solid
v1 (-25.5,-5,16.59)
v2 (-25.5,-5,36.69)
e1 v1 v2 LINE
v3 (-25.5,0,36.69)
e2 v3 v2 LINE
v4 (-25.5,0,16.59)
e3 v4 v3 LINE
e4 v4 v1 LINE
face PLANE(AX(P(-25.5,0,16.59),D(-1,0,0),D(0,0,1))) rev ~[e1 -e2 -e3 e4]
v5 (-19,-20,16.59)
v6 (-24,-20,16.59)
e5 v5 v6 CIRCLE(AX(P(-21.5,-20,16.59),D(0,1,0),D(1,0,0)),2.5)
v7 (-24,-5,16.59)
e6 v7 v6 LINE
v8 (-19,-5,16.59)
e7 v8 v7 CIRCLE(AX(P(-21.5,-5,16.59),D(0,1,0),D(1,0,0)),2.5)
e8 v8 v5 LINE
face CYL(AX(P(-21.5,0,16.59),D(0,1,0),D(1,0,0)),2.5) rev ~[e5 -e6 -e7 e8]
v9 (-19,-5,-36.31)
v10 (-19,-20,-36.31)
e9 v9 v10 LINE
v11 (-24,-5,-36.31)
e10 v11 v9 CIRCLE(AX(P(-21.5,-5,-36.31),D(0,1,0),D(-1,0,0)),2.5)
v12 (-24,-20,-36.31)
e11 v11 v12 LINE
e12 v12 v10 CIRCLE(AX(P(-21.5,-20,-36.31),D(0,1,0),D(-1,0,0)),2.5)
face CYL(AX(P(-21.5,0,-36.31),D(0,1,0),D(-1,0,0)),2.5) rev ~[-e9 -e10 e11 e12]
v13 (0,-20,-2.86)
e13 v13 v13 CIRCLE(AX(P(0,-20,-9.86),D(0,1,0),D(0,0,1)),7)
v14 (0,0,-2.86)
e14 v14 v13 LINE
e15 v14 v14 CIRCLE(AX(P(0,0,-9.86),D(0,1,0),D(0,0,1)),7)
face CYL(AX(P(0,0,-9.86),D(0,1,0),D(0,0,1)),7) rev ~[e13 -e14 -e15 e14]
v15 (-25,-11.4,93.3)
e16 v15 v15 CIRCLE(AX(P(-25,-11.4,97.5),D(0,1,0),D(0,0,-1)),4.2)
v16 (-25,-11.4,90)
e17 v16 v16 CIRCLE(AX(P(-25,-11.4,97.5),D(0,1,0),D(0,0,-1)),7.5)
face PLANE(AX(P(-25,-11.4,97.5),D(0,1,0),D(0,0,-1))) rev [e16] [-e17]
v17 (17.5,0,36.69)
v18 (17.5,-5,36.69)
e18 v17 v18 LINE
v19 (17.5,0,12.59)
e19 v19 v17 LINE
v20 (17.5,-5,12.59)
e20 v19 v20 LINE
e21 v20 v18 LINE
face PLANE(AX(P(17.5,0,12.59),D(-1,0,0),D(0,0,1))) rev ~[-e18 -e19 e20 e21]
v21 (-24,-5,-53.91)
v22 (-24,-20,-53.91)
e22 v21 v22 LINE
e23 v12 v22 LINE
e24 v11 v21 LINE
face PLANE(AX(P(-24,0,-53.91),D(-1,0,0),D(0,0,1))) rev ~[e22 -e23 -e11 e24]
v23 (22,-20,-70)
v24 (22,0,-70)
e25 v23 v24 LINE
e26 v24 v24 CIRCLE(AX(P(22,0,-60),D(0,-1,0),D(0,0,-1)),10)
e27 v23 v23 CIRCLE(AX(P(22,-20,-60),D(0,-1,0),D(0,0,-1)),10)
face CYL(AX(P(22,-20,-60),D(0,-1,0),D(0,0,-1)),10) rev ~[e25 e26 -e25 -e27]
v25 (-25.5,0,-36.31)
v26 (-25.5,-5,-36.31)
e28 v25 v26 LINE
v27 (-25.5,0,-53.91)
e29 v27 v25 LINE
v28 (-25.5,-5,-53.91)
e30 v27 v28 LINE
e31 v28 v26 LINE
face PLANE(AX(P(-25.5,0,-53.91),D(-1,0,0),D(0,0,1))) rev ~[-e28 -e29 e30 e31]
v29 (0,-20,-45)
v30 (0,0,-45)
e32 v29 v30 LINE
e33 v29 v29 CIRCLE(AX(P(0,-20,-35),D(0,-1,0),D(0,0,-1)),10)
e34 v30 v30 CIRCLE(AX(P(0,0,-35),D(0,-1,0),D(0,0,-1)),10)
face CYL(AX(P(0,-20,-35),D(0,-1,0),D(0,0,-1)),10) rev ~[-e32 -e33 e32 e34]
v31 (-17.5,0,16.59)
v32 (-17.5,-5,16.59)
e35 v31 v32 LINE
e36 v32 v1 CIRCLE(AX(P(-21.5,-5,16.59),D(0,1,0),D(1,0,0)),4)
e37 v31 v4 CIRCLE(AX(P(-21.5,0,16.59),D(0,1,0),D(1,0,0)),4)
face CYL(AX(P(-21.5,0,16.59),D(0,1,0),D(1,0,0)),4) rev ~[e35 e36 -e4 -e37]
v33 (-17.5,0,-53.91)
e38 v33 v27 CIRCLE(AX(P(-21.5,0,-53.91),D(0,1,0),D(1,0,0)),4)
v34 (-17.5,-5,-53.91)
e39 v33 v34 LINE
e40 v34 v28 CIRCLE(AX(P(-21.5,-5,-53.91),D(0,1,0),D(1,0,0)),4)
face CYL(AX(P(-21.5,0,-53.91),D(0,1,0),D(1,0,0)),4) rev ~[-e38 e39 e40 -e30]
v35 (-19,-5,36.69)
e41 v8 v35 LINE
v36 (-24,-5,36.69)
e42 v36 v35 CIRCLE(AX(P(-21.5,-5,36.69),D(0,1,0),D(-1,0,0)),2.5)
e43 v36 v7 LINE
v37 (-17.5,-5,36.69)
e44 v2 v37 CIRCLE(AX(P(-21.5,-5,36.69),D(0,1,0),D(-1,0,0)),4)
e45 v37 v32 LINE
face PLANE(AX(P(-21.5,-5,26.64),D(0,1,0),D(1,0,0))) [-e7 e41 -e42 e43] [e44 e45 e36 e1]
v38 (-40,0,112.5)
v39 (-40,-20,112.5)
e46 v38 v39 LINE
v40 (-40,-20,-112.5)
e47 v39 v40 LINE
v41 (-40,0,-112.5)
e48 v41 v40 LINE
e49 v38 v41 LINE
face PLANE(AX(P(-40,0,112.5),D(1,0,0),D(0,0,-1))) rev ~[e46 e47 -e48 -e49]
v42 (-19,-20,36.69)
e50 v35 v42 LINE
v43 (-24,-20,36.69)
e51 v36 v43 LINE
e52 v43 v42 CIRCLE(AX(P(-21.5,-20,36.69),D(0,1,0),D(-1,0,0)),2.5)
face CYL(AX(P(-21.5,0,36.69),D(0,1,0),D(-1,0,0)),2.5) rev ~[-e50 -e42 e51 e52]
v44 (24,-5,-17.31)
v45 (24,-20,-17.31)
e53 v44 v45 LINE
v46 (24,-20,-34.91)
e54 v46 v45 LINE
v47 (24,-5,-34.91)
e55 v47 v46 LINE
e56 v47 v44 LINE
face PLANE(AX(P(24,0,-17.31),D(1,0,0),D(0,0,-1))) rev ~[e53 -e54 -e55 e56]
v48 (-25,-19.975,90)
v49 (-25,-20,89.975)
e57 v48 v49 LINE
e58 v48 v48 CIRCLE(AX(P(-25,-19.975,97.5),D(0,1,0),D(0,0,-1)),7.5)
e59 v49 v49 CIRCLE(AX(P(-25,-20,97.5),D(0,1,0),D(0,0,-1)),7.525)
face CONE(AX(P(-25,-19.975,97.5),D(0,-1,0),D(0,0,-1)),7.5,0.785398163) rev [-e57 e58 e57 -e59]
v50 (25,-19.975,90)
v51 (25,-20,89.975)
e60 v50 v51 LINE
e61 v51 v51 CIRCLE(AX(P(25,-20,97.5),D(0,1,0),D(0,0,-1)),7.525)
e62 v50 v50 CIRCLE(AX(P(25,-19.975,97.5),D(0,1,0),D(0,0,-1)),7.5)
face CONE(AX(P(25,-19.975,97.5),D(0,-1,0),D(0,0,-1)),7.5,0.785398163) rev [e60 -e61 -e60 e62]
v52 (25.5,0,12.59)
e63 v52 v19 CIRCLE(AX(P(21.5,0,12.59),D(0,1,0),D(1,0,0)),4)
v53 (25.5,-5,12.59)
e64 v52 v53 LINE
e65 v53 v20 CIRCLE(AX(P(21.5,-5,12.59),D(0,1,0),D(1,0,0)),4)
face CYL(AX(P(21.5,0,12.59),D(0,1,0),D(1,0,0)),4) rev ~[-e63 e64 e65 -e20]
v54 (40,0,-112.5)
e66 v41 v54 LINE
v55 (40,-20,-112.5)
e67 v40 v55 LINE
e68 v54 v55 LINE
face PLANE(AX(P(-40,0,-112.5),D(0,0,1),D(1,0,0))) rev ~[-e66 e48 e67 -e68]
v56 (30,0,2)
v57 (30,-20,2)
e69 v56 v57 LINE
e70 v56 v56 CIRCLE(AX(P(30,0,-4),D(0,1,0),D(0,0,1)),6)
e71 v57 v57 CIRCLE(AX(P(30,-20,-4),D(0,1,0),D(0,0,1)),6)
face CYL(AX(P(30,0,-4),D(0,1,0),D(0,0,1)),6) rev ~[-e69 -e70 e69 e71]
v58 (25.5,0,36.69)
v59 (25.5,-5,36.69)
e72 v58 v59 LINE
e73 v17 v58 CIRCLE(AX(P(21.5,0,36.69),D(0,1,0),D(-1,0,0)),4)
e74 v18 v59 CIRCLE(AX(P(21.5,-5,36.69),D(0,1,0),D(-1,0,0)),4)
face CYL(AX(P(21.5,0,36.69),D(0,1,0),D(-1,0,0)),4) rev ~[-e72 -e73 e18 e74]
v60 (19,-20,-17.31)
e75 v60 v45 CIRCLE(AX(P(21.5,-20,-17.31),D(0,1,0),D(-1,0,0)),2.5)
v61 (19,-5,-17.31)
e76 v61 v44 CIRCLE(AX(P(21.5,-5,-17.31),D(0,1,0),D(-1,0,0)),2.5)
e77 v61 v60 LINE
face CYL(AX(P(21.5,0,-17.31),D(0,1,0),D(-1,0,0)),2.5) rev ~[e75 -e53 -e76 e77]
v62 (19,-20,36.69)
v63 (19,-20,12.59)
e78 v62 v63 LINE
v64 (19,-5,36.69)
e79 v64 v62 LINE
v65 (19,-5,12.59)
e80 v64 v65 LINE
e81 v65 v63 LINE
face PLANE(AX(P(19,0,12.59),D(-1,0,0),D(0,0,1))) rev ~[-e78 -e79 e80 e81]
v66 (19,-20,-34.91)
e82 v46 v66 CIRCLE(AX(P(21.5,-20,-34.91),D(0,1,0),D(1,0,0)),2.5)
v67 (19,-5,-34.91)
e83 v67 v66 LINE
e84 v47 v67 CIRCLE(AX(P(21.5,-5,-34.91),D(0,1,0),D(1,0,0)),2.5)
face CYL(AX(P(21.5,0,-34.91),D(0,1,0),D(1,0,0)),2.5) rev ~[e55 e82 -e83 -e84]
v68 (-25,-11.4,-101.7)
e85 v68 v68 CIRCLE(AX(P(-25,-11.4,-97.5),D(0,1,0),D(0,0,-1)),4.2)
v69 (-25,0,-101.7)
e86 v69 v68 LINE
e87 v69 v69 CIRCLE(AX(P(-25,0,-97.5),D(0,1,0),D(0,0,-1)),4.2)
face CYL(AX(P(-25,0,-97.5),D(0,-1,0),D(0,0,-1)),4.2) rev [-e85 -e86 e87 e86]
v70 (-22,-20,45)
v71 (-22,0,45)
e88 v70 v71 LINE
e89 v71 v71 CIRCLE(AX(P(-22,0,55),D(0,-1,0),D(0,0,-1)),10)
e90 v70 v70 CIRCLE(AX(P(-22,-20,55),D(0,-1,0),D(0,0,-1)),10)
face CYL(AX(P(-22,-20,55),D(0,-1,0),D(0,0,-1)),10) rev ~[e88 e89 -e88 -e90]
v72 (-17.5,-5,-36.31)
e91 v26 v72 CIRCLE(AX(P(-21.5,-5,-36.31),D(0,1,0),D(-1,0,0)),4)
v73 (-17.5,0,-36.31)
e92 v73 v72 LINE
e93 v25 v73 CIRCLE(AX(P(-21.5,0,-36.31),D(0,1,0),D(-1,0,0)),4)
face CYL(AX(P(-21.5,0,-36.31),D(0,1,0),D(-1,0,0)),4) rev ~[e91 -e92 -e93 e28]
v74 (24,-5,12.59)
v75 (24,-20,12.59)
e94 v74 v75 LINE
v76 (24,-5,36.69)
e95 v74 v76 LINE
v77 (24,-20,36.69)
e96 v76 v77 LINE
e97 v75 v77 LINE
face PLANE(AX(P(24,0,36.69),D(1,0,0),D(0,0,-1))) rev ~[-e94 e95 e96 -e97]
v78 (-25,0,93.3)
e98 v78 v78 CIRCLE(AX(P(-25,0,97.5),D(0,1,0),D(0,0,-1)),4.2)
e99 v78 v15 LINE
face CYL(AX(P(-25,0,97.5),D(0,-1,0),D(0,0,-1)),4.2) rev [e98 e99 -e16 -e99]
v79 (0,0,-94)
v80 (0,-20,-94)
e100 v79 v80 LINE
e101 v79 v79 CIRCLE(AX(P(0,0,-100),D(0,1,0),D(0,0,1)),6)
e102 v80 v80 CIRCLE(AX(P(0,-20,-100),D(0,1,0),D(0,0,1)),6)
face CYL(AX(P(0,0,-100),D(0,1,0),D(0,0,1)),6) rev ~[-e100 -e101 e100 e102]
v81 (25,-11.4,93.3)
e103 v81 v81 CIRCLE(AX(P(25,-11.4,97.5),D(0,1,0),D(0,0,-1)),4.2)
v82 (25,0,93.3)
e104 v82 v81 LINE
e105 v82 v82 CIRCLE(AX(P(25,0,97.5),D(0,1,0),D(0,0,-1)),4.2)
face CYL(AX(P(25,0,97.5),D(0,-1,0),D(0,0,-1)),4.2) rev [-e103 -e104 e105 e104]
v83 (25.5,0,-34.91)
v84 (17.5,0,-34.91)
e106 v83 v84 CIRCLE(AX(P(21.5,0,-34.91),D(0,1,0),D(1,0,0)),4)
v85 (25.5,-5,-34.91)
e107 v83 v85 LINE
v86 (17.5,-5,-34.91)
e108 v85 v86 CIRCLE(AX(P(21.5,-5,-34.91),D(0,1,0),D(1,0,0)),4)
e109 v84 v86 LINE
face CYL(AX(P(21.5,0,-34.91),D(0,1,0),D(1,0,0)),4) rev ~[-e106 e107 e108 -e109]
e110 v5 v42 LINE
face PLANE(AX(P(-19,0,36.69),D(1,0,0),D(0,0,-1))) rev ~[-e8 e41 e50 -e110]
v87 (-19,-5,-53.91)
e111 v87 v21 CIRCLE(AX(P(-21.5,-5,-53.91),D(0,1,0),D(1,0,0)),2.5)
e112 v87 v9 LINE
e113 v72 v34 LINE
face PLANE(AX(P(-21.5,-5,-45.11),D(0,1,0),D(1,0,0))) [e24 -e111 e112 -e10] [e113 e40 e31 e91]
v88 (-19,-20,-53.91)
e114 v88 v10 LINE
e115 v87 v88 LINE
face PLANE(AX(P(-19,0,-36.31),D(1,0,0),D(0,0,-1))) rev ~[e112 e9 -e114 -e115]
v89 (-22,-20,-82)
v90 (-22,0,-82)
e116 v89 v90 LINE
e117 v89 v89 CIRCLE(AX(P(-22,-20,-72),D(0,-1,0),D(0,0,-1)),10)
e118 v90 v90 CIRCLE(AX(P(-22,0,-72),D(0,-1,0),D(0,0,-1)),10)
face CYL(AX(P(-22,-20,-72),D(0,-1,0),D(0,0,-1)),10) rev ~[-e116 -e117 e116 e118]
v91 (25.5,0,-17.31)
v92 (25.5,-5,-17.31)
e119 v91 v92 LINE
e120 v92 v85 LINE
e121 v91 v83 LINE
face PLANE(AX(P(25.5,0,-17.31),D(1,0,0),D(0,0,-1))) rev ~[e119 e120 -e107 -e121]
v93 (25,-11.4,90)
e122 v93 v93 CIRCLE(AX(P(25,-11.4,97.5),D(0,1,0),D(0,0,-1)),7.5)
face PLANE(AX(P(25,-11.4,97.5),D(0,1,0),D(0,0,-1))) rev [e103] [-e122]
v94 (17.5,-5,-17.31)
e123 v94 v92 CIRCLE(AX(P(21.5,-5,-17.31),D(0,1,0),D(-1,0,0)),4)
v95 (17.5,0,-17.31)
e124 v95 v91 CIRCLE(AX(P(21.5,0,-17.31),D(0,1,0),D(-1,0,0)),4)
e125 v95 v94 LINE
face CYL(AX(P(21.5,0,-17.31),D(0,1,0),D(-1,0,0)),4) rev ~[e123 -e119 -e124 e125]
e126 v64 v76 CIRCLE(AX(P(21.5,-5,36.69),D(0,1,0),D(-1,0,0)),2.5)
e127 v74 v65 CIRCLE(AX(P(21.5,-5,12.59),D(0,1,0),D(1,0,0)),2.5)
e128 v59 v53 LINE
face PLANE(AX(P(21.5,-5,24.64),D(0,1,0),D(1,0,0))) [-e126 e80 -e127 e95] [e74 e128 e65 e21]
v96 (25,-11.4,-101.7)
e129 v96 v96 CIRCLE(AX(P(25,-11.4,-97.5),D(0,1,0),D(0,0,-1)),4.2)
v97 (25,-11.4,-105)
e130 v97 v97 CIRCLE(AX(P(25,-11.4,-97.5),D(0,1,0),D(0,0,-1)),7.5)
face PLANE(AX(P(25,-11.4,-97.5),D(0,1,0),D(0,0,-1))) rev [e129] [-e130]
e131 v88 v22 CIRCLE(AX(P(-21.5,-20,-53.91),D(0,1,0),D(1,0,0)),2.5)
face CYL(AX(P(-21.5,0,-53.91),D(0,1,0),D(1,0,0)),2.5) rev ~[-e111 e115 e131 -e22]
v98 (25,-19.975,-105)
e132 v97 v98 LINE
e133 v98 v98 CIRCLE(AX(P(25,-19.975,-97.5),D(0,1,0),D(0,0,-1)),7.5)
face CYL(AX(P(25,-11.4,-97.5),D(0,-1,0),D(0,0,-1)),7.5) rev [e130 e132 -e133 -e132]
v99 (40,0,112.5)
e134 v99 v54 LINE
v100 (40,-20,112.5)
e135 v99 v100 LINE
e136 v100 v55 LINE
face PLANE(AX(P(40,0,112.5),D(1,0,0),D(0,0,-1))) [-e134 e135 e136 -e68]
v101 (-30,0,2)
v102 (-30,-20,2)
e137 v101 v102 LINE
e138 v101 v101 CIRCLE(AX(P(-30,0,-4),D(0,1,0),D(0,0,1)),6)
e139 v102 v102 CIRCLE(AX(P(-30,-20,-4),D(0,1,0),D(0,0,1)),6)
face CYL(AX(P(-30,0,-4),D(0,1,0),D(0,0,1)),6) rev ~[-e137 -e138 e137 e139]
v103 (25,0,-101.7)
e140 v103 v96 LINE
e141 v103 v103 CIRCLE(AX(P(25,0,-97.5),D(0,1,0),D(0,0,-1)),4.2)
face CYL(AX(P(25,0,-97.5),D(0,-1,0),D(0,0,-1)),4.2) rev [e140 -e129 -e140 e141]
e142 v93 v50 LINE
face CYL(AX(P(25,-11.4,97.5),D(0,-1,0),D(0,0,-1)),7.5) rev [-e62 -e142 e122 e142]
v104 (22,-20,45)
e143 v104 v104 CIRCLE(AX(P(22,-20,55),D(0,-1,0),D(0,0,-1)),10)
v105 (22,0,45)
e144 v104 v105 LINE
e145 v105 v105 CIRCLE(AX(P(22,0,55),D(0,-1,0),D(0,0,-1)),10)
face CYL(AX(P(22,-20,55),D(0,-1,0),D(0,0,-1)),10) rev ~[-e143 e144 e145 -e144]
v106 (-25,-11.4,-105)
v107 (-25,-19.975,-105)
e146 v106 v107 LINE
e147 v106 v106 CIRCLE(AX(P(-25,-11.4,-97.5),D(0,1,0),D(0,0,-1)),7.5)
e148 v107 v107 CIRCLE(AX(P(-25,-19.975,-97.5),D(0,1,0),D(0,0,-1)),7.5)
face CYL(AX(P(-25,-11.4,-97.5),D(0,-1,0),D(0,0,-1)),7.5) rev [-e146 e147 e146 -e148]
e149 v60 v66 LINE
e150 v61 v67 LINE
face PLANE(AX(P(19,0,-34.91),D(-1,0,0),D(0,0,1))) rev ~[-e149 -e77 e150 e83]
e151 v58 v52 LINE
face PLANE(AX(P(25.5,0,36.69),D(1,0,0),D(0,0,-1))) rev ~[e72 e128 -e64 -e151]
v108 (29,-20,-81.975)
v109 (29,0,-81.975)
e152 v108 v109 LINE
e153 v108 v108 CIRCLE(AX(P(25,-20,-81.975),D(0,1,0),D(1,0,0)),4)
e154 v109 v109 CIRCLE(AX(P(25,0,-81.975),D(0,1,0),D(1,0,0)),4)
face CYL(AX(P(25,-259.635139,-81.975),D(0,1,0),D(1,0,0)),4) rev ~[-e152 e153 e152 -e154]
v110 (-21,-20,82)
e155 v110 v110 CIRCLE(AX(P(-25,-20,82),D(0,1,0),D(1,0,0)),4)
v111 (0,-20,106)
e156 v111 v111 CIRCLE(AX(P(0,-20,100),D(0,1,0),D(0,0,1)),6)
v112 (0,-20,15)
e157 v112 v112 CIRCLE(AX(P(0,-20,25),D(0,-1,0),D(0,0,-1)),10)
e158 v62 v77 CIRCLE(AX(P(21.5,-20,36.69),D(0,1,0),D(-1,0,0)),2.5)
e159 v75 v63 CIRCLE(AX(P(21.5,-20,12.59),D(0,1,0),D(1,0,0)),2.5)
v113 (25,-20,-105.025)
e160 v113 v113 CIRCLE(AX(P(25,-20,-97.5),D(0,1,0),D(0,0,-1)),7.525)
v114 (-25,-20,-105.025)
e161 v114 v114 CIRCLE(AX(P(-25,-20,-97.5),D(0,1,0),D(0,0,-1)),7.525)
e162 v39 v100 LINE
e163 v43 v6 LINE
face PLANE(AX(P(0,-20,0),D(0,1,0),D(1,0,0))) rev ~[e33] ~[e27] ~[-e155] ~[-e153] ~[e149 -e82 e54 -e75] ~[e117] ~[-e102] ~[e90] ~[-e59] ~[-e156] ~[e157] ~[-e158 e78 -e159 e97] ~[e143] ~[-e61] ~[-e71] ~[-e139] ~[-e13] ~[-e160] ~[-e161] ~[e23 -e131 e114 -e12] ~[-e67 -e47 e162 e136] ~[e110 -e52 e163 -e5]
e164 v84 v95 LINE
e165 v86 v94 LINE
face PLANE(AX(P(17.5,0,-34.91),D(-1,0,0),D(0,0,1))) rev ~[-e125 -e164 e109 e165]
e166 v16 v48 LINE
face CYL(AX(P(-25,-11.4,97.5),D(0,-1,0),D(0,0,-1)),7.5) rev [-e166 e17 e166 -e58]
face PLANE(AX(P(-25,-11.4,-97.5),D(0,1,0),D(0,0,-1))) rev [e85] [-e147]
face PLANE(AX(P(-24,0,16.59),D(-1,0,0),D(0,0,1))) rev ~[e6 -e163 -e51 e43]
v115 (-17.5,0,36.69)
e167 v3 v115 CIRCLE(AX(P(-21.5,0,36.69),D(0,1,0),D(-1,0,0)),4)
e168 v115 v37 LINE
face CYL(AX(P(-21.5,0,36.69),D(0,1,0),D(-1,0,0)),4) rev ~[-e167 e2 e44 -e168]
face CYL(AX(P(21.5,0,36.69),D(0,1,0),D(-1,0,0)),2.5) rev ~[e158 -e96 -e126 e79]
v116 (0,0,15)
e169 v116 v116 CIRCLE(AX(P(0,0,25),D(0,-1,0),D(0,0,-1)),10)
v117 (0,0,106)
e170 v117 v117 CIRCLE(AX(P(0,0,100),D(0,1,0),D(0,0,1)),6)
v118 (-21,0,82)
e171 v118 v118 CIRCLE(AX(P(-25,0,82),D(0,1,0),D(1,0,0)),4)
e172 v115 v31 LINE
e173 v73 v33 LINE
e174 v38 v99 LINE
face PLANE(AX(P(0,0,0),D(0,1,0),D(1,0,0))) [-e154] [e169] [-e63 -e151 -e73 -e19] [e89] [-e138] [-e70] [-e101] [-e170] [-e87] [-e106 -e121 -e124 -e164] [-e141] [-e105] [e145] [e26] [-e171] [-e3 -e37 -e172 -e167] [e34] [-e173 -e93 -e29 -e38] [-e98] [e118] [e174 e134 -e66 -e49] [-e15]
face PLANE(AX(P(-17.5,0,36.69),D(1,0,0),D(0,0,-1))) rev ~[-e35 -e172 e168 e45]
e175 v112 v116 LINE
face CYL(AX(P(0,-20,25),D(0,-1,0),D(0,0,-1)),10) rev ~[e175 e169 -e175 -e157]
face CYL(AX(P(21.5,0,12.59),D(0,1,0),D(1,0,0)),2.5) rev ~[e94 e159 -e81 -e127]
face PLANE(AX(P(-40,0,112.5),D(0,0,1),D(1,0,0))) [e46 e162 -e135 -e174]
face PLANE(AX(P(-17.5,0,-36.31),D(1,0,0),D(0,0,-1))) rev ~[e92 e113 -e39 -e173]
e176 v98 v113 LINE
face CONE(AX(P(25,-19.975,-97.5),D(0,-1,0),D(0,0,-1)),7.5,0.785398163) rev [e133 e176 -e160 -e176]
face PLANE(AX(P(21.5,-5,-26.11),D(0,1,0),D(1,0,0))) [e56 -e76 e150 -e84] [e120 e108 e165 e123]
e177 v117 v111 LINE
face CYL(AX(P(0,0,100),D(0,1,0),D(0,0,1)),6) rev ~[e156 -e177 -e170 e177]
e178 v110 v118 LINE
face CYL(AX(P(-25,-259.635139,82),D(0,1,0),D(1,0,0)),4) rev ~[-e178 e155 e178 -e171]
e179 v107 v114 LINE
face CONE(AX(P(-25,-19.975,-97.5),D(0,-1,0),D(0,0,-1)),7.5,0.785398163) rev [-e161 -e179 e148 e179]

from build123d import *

# Parameters (mm, degrees)
SKETCH1_W                                    = 80
SKETCH1_H                                    = 225
BOSS_EXTRUDE1_DEPTH                          = 20
CUT_EXTRUDE1_REACH                           = 123.063
CUT_EXTRUDE2_DEPTH                           = 5
CBORE_FOR_M8_HEX_SOCKET_HEAD_CAP_SCR_2_COUNT = 2
CBORE_FOR_M8_HEX_SOCKET_HEAD_CAP_SCR_2_PITCH = 50
CBORE_FOR_M8_HEX_SOCKET_HEAD_CAP_SCR_3_COUNT = 2
CBORE_FOR_M8_HEX_SOCKET_HEAD_CAP_SCR_3_PITCH = 201.308221392
CBORE_FOR_M8_HEX_SOCKET_HEAD_CAP_SCR_4_COUNT = 2
CBORE_FOR_M8_HEX_SOCKET_HEAD_CAP_SCR_4_PITCH = 195
F_8_0MM_DOWEL_HOLE1_D                        = 8
SKETCH11_R                                   = 10
CUT_EXTRUDE3_DEPTH                           = 122.063000128
CUT_EXTRUDE4_REACH                           = 123.063
SKETCH13_R                                   = 6
CUT_EXTRUDE5_REACH                           = 123.063
SKETCH14_R                                   = 7


with BuildPart() as part:
    # Sketch1 → Boss-Extrude1 (new body)
    with BuildSketch(Plane(origin=(0, 0, 0), x_dir=(1, 0, 0), z_dir=(0, 1, 0))):
        Rectangle(SKETCH1_W, SKETCH1_H)
    extrude(amount=-BOSS_EXTRUDE1_DEPTH)

    # Sketch2 → Cut-Extrude1 (cut, up to next)
    with BuildSketch(Plane(origin=(0, 0, 0), x_dir=(1, 0, 0), z_dir=(0, 1, 0)), mode=Mode.PRIVATE) as cut_extrude1_sk1:
        with BuildLine():
            Line((24, 17.31), (24, 34.91))
            ThreePointArc((24, 34.91), (21.5, 37.41), (19, 34.91))
            Line((19, 34.91), (19, 17.31))
            ThreePointArc((19, 17.31), (21.5, 14.81), (24, 17.31))
        make_face()
    cut_extrude1_tool1 = extrude(cut_extrude1_sk1.sketch, amount=-CUT_EXTRUDE1_REACH, mode=Mode.PRIVATE) & part.part
    # Sketch2 → Cut-Extrude1 (cut, up to next)
    with BuildSketch(Plane(origin=(0, 0, 0), x_dir=(1, 0, 0), z_dir=(0, 1, 0)), mode=Mode.PRIVATE) as cut_extrude1_sk2:
        with BuildLine():
            Line((24, -36.69), (24, -12.59))
            ThreePointArc((24, -12.59), (21.5, -10.09), (19, -12.59))
            Line((19, -12.59), (19, -36.69))
            ThreePointArc((19, -36.69), (21.5, -39.19), (24, -36.69))
        make_face()
    cut_extrude1_tool2 = extrude(cut_extrude1_sk2.sketch, amount=-CUT_EXTRUDE1_REACH, mode=Mode.PRIVATE) & part.part
    # Sketch2 → Cut-Extrude1 (cut, up to next)
    with BuildSketch(Plane(origin=(0, 0, 0), x_dir=(1, 0, 0), z_dir=(0, 1, 0)), mode=Mode.PRIVATE) as cut_extrude1_sk3:
        with BuildLine():
            Line((-24, -16.59), (-24, -36.69))
            ThreePointArc((-24, -36.69), (-21.5, -39.19), (-19, -36.69))
            Line((-19, -36.69), (-19, -16.59))
            ThreePointArc((-19, -16.59), (-21.5, -14.09), (-24, -16.59))
        make_face()
    cut_extrude1_tool3 = extrude(cut_extrude1_sk3.sketch, amount=-CUT_EXTRUDE1_REACH, mode=Mode.PRIVATE) & part.part
    # Sketch2 → Cut-Extrude1 (cut, up to next)
    with BuildSketch(Plane(origin=(0, 0, 0), x_dir=(1, 0, 0), z_dir=(0, 1, 0)), mode=Mode.PRIVATE) as cut_extrude1_sk4:
        with BuildLine():
            Line((-24, 53.91), (-24, 36.31))
            ThreePointArc((-24, 36.31), (-21.5, 33.81), (-19, 36.31))
            Line((-19, 36.31), (-19, 53.91))
            ThreePointArc((-19, 53.91), (-21.5, 56.41), (-24, 53.91))
        make_face()
    cut_extrude1_tool4 = extrude(cut_extrude1_sk4.sketch, amount=-CUT_EXTRUDE1_REACH, mode=Mode.PRIVATE) & part.part
    add(cut_extrude1_tool1.solids().sort_by_distance((21.5, 0, -26.11))[0], mode=Mode.SUBTRACT)
    add(cut_extrude1_tool2.solids().sort_by_distance((21.5, 0, 24.64))[0], mode=Mode.SUBTRACT)
    add(cut_extrude1_tool3.solids().sort_by_distance((-21.5, 0, 26.64))[0], mode=Mode.SUBTRACT)
    add(cut_extrude1_tool4.solids().sort_by_distance((-21.5, 0, -45.11))[0], mode=Mode.SUBTRACT)

    # Sketch3 → Cut-Extrude2 (cut)
    with BuildSketch(Plane(origin=(0, 0, 0), x_dir=(1, 0, 0), z_dir=(0, 1, 0))):
        with BuildLine():
            Line((-17.5, 36.31), (-17.5, 53.91))
            ThreePointArc((-17.5, 53.91), (-21.5, 57.91), (-25.5, 53.91))
            Line((-25.5, 53.91), (-25.5, 36.31))
            ThreePointArc((-25.5, 36.31), (-21.5, 32.31), (-17.5, 36.31))
        make_face()
        with BuildLine():
            Line((25.5, 17.31), (25.5, 34.91))
            ThreePointArc((25.5, 34.91), (21.5, 38.91), (17.5, 34.91))
            Line((17.5, 34.91), (17.5, 17.31))
            ThreePointArc((17.5, 17.31), (21.5, 13.31), (25.5, 17.31))
        make_face()
        with BuildLine():
            Line((25.5, -36.69), (25.5, -12.59))
            ThreePointArc((25.5, -12.59), (21.5, -8.59), (17.5, -12.59))
            Line((17.5, -12.59), (17.5, -36.69))
            ThreePointArc((17.5, -36.69), (21.5, -40.69), (25.5, -36.69))
        make_face()
        with BuildLine():
            Line((-25.5, -16.59), (-25.5, -36.69))
            ThreePointArc((-25.5, -36.69), (-21.5, -40.69), (-17.5, -36.69))
            Line((-17.5, -36.69), (-17.5, -16.59))
            ThreePointArc((-17.5, -16.59), (-21.5, -12.59), (-25.5, -16.59))
        make_face()
    extrude(amount=-CUT_EXTRUDE2_DEPTH, mode=Mode.SUBTRACT)

    # Sketch6 → CBORE for M8 Hex Socket Head Cap Screw1 (revolve, cut)
    with BuildSketch(Plane(origin=(25, -20, -97.5), x_dir=(0, 0, -1), z_dir=(1, 0, 0))):
        Polygon((0, 0), (0, 20), (4.2, 20), (4.2, 8.6), (7.5, 8.6), (7.5, 0.025), (7.525, 0), align=None)
    cbore_for_m8_hex_socket_head_cap_screw1 = revolve(axis=Axis((25, -26.35, -97.5), (0, 1, 0)), mode=Mode.SUBTRACT)

    # CBORE for M8 Hex Socket Head Cap Scr 2: CBORE for M8 Hex Socket Head Cap Screw1 ×2
    with Locations(*[(-i * CBORE_FOR_M8_HEX_SOCKET_HEAD_CAP_SCR_2_PITCH, 0, 0) for i in range(1, CBORE_FOR_M8_HEX_SOCKET_HEAD_CAP_SCR_2_COUNT)]):
        add(cbore_for_m8_hex_socket_head_cap_screw1, mode=Mode.SUBTRACT)

    # CBORE for M8 Hex Socket Head Cap Scr 3: CBORE for M8 Hex Socket Head Cap Screw1 ×2
    with Locations(*[Vector(-0.24837535026770385, 0, 0.968663866044045) * (i * CBORE_FOR_M8_HEX_SOCKET_HEAD_CAP_SCR_3_PITCH) for i in range(1, CBORE_FOR_M8_HEX_SOCKET_HEAD_CAP_SCR_3_COUNT)]):
        add(cbore_for_m8_hex_socket_head_cap_screw1, mode=Mode.SUBTRACT)

    # CBORE for M8 Hex Socket Head Cap Scr 4: CBORE for M8 Hex Socket Head Cap Screw1 ×2
    with Locations(*[(0, 0, i * CBORE_FOR_M8_HEX_SOCKET_HEAD_CAP_SCR_4_PITCH) for i in range(1, CBORE_FOR_M8_HEX_SOCKET_HEAD_CAP_SCR_4_COUNT)]):
        add(cbore_for_m8_hex_socket_head_cap_screw1, mode=Mode.SUBTRACT)

    # Ø8.0mm Dowel Hole1 (through all)
    with Locations(Plane(origin=(0, -20, 0), x_dir=(-1, 0, 0), z_dir=(0, -1, 0))):
        with Locations((-25, 81.975), (25, -82)):
            Hole(F_8_0MM_DOWEL_HOLE1_D / 2)

    # Sketch11 → Cut-Extrude3 (cut, through all)
    with BuildSketch(Plane.XZ.offset(20)):
        with Locations(Location((-22, 55, 0), (0, 0, 270))):
            Circle(SKETCH11_R)
        with Locations(Location((22, 55, 0), (0, 0, 270))):
            Circle(SKETCH11_R)
        with Locations(Location((-22, -72, 0), (0, 0, 270))):
            Circle(SKETCH11_R)
        with Locations(Location((22, -60, 0), (0, 0, 270))):
            Circle(SKETCH11_R)
        with Locations(Location((0, -35, 0), (0, 0, 270))):
            Circle(SKETCH11_R)
        with Locations(Location((0, 25, 0), (0, 0, 270))):
            Circle(SKETCH11_R)
    extrude(amount=-CUT_EXTRUDE3_DEPTH, mode=Mode.SUBTRACT)

    # Sketch13 → Cut-Extrude4 (cut, up to next)
    with BuildSketch(Plane(origin=(0, 0, 0), x_dir=(1, 0, 0), z_dir=(0, 1, 0)), mode=Mode.PRIVATE) as cut_extrude4_sk1:
        with Locations(Location((0, 100, 0), (0, 0, 270))):
            Circle(SKETCH13_R)
    cut_extrude4_tool1 = extrude(cut_extrude4_sk1.sketch, amount=-CUT_EXTRUDE4_REACH, mode=Mode.PRIVATE) & part.part
    # Sketch13 → Cut-Extrude4 (cut, up to next)
    with BuildSketch(Plane(origin=(0, 0, 0), x_dir=(1, 0, 0), z_dir=(0, 1, 0)), mode=Mode.PRIVATE) as cut_extrude4_sk2:
        with Locations(Location((0, -100, 0), (0, 0, 270))):
            Circle(SKETCH13_R)
    cut_extrude4_tool2 = extrude(cut_extrude4_sk2.sketch, amount=-CUT_EXTRUDE4_REACH, mode=Mode.PRIVATE) & part.part
    # Sketch13 → Cut-Extrude4 (cut, up to next)
    with BuildSketch(Plane(origin=(0, 0, 0), x_dir=(1, 0, 0), z_dir=(0, 1, 0)), mode=Mode.PRIVATE) as cut_extrude4_sk3:
        with Locations(Location((-30, 4, 0), (0, 0, 270))):
            Circle(SKETCH13_R)
    cut_extrude4_tool3 = extrude(cut_extrude4_sk3.sketch, amount=-CUT_EXTRUDE4_REACH, mode=Mode.PRIVATE) & part.part
    # Sketch13 → Cut-Extrude4 (cut, up to next)
    with BuildSketch(Plane(origin=(0, 0, 0), x_dir=(1, 0, 0), z_dir=(0, 1, 0)), mode=Mode.PRIVATE) as cut_extrude4_sk4:
        with Locations(Location((30, 4, 0), (0, 0, 270))):
            Circle(SKETCH13_R)
    cut_extrude4_tool4 = extrude(cut_extrude4_sk4.sketch, amount=-CUT_EXTRUDE4_REACH, mode=Mode.PRIVATE) & part.part
    add(cut_extrude4_tool1.solids().sort_by_distance((0, 0, -100))[0], mode=Mode.SUBTRACT)
    add(cut_extrude4_tool2.solids().sort_by_distance((0, 0, 100))[0], mode=Mode.SUBTRACT)
    add(cut_extrude4_tool3.solids().sort_by_distance((-30, 0, -4))[0], mode=Mode.SUBTRACT)
    add(cut_extrude4_tool4.solids().sort_by_distance((30, 0, -4))[0], mode=Mode.SUBTRACT)

    # Sketch14 → Cut-Extrude5 (cut, up to next)
    with BuildSketch(Plane(origin=(0, 0, 0), x_dir=(1, 0, 0), z_dir=(0, 1, 0)), mode=Mode.PRIVATE) as cut_extrude5_sk1:
        with Locations(Location((0, 9.86, 0), (0, 0, 270))):
            Circle(SKETCH14_R)
    cut_extrude5_tool1 = extrude(cut_extrude5_sk1.sketch, amount=-CUT_EXTRUDE5_REACH, mode=Mode.PRIVATE) & part.part
    add(cut_extrude5_tool1.solids().sort_by_distance((0, 0, -9.86))[0], mode=Mode.SUBTRACT)


solid = part.part
